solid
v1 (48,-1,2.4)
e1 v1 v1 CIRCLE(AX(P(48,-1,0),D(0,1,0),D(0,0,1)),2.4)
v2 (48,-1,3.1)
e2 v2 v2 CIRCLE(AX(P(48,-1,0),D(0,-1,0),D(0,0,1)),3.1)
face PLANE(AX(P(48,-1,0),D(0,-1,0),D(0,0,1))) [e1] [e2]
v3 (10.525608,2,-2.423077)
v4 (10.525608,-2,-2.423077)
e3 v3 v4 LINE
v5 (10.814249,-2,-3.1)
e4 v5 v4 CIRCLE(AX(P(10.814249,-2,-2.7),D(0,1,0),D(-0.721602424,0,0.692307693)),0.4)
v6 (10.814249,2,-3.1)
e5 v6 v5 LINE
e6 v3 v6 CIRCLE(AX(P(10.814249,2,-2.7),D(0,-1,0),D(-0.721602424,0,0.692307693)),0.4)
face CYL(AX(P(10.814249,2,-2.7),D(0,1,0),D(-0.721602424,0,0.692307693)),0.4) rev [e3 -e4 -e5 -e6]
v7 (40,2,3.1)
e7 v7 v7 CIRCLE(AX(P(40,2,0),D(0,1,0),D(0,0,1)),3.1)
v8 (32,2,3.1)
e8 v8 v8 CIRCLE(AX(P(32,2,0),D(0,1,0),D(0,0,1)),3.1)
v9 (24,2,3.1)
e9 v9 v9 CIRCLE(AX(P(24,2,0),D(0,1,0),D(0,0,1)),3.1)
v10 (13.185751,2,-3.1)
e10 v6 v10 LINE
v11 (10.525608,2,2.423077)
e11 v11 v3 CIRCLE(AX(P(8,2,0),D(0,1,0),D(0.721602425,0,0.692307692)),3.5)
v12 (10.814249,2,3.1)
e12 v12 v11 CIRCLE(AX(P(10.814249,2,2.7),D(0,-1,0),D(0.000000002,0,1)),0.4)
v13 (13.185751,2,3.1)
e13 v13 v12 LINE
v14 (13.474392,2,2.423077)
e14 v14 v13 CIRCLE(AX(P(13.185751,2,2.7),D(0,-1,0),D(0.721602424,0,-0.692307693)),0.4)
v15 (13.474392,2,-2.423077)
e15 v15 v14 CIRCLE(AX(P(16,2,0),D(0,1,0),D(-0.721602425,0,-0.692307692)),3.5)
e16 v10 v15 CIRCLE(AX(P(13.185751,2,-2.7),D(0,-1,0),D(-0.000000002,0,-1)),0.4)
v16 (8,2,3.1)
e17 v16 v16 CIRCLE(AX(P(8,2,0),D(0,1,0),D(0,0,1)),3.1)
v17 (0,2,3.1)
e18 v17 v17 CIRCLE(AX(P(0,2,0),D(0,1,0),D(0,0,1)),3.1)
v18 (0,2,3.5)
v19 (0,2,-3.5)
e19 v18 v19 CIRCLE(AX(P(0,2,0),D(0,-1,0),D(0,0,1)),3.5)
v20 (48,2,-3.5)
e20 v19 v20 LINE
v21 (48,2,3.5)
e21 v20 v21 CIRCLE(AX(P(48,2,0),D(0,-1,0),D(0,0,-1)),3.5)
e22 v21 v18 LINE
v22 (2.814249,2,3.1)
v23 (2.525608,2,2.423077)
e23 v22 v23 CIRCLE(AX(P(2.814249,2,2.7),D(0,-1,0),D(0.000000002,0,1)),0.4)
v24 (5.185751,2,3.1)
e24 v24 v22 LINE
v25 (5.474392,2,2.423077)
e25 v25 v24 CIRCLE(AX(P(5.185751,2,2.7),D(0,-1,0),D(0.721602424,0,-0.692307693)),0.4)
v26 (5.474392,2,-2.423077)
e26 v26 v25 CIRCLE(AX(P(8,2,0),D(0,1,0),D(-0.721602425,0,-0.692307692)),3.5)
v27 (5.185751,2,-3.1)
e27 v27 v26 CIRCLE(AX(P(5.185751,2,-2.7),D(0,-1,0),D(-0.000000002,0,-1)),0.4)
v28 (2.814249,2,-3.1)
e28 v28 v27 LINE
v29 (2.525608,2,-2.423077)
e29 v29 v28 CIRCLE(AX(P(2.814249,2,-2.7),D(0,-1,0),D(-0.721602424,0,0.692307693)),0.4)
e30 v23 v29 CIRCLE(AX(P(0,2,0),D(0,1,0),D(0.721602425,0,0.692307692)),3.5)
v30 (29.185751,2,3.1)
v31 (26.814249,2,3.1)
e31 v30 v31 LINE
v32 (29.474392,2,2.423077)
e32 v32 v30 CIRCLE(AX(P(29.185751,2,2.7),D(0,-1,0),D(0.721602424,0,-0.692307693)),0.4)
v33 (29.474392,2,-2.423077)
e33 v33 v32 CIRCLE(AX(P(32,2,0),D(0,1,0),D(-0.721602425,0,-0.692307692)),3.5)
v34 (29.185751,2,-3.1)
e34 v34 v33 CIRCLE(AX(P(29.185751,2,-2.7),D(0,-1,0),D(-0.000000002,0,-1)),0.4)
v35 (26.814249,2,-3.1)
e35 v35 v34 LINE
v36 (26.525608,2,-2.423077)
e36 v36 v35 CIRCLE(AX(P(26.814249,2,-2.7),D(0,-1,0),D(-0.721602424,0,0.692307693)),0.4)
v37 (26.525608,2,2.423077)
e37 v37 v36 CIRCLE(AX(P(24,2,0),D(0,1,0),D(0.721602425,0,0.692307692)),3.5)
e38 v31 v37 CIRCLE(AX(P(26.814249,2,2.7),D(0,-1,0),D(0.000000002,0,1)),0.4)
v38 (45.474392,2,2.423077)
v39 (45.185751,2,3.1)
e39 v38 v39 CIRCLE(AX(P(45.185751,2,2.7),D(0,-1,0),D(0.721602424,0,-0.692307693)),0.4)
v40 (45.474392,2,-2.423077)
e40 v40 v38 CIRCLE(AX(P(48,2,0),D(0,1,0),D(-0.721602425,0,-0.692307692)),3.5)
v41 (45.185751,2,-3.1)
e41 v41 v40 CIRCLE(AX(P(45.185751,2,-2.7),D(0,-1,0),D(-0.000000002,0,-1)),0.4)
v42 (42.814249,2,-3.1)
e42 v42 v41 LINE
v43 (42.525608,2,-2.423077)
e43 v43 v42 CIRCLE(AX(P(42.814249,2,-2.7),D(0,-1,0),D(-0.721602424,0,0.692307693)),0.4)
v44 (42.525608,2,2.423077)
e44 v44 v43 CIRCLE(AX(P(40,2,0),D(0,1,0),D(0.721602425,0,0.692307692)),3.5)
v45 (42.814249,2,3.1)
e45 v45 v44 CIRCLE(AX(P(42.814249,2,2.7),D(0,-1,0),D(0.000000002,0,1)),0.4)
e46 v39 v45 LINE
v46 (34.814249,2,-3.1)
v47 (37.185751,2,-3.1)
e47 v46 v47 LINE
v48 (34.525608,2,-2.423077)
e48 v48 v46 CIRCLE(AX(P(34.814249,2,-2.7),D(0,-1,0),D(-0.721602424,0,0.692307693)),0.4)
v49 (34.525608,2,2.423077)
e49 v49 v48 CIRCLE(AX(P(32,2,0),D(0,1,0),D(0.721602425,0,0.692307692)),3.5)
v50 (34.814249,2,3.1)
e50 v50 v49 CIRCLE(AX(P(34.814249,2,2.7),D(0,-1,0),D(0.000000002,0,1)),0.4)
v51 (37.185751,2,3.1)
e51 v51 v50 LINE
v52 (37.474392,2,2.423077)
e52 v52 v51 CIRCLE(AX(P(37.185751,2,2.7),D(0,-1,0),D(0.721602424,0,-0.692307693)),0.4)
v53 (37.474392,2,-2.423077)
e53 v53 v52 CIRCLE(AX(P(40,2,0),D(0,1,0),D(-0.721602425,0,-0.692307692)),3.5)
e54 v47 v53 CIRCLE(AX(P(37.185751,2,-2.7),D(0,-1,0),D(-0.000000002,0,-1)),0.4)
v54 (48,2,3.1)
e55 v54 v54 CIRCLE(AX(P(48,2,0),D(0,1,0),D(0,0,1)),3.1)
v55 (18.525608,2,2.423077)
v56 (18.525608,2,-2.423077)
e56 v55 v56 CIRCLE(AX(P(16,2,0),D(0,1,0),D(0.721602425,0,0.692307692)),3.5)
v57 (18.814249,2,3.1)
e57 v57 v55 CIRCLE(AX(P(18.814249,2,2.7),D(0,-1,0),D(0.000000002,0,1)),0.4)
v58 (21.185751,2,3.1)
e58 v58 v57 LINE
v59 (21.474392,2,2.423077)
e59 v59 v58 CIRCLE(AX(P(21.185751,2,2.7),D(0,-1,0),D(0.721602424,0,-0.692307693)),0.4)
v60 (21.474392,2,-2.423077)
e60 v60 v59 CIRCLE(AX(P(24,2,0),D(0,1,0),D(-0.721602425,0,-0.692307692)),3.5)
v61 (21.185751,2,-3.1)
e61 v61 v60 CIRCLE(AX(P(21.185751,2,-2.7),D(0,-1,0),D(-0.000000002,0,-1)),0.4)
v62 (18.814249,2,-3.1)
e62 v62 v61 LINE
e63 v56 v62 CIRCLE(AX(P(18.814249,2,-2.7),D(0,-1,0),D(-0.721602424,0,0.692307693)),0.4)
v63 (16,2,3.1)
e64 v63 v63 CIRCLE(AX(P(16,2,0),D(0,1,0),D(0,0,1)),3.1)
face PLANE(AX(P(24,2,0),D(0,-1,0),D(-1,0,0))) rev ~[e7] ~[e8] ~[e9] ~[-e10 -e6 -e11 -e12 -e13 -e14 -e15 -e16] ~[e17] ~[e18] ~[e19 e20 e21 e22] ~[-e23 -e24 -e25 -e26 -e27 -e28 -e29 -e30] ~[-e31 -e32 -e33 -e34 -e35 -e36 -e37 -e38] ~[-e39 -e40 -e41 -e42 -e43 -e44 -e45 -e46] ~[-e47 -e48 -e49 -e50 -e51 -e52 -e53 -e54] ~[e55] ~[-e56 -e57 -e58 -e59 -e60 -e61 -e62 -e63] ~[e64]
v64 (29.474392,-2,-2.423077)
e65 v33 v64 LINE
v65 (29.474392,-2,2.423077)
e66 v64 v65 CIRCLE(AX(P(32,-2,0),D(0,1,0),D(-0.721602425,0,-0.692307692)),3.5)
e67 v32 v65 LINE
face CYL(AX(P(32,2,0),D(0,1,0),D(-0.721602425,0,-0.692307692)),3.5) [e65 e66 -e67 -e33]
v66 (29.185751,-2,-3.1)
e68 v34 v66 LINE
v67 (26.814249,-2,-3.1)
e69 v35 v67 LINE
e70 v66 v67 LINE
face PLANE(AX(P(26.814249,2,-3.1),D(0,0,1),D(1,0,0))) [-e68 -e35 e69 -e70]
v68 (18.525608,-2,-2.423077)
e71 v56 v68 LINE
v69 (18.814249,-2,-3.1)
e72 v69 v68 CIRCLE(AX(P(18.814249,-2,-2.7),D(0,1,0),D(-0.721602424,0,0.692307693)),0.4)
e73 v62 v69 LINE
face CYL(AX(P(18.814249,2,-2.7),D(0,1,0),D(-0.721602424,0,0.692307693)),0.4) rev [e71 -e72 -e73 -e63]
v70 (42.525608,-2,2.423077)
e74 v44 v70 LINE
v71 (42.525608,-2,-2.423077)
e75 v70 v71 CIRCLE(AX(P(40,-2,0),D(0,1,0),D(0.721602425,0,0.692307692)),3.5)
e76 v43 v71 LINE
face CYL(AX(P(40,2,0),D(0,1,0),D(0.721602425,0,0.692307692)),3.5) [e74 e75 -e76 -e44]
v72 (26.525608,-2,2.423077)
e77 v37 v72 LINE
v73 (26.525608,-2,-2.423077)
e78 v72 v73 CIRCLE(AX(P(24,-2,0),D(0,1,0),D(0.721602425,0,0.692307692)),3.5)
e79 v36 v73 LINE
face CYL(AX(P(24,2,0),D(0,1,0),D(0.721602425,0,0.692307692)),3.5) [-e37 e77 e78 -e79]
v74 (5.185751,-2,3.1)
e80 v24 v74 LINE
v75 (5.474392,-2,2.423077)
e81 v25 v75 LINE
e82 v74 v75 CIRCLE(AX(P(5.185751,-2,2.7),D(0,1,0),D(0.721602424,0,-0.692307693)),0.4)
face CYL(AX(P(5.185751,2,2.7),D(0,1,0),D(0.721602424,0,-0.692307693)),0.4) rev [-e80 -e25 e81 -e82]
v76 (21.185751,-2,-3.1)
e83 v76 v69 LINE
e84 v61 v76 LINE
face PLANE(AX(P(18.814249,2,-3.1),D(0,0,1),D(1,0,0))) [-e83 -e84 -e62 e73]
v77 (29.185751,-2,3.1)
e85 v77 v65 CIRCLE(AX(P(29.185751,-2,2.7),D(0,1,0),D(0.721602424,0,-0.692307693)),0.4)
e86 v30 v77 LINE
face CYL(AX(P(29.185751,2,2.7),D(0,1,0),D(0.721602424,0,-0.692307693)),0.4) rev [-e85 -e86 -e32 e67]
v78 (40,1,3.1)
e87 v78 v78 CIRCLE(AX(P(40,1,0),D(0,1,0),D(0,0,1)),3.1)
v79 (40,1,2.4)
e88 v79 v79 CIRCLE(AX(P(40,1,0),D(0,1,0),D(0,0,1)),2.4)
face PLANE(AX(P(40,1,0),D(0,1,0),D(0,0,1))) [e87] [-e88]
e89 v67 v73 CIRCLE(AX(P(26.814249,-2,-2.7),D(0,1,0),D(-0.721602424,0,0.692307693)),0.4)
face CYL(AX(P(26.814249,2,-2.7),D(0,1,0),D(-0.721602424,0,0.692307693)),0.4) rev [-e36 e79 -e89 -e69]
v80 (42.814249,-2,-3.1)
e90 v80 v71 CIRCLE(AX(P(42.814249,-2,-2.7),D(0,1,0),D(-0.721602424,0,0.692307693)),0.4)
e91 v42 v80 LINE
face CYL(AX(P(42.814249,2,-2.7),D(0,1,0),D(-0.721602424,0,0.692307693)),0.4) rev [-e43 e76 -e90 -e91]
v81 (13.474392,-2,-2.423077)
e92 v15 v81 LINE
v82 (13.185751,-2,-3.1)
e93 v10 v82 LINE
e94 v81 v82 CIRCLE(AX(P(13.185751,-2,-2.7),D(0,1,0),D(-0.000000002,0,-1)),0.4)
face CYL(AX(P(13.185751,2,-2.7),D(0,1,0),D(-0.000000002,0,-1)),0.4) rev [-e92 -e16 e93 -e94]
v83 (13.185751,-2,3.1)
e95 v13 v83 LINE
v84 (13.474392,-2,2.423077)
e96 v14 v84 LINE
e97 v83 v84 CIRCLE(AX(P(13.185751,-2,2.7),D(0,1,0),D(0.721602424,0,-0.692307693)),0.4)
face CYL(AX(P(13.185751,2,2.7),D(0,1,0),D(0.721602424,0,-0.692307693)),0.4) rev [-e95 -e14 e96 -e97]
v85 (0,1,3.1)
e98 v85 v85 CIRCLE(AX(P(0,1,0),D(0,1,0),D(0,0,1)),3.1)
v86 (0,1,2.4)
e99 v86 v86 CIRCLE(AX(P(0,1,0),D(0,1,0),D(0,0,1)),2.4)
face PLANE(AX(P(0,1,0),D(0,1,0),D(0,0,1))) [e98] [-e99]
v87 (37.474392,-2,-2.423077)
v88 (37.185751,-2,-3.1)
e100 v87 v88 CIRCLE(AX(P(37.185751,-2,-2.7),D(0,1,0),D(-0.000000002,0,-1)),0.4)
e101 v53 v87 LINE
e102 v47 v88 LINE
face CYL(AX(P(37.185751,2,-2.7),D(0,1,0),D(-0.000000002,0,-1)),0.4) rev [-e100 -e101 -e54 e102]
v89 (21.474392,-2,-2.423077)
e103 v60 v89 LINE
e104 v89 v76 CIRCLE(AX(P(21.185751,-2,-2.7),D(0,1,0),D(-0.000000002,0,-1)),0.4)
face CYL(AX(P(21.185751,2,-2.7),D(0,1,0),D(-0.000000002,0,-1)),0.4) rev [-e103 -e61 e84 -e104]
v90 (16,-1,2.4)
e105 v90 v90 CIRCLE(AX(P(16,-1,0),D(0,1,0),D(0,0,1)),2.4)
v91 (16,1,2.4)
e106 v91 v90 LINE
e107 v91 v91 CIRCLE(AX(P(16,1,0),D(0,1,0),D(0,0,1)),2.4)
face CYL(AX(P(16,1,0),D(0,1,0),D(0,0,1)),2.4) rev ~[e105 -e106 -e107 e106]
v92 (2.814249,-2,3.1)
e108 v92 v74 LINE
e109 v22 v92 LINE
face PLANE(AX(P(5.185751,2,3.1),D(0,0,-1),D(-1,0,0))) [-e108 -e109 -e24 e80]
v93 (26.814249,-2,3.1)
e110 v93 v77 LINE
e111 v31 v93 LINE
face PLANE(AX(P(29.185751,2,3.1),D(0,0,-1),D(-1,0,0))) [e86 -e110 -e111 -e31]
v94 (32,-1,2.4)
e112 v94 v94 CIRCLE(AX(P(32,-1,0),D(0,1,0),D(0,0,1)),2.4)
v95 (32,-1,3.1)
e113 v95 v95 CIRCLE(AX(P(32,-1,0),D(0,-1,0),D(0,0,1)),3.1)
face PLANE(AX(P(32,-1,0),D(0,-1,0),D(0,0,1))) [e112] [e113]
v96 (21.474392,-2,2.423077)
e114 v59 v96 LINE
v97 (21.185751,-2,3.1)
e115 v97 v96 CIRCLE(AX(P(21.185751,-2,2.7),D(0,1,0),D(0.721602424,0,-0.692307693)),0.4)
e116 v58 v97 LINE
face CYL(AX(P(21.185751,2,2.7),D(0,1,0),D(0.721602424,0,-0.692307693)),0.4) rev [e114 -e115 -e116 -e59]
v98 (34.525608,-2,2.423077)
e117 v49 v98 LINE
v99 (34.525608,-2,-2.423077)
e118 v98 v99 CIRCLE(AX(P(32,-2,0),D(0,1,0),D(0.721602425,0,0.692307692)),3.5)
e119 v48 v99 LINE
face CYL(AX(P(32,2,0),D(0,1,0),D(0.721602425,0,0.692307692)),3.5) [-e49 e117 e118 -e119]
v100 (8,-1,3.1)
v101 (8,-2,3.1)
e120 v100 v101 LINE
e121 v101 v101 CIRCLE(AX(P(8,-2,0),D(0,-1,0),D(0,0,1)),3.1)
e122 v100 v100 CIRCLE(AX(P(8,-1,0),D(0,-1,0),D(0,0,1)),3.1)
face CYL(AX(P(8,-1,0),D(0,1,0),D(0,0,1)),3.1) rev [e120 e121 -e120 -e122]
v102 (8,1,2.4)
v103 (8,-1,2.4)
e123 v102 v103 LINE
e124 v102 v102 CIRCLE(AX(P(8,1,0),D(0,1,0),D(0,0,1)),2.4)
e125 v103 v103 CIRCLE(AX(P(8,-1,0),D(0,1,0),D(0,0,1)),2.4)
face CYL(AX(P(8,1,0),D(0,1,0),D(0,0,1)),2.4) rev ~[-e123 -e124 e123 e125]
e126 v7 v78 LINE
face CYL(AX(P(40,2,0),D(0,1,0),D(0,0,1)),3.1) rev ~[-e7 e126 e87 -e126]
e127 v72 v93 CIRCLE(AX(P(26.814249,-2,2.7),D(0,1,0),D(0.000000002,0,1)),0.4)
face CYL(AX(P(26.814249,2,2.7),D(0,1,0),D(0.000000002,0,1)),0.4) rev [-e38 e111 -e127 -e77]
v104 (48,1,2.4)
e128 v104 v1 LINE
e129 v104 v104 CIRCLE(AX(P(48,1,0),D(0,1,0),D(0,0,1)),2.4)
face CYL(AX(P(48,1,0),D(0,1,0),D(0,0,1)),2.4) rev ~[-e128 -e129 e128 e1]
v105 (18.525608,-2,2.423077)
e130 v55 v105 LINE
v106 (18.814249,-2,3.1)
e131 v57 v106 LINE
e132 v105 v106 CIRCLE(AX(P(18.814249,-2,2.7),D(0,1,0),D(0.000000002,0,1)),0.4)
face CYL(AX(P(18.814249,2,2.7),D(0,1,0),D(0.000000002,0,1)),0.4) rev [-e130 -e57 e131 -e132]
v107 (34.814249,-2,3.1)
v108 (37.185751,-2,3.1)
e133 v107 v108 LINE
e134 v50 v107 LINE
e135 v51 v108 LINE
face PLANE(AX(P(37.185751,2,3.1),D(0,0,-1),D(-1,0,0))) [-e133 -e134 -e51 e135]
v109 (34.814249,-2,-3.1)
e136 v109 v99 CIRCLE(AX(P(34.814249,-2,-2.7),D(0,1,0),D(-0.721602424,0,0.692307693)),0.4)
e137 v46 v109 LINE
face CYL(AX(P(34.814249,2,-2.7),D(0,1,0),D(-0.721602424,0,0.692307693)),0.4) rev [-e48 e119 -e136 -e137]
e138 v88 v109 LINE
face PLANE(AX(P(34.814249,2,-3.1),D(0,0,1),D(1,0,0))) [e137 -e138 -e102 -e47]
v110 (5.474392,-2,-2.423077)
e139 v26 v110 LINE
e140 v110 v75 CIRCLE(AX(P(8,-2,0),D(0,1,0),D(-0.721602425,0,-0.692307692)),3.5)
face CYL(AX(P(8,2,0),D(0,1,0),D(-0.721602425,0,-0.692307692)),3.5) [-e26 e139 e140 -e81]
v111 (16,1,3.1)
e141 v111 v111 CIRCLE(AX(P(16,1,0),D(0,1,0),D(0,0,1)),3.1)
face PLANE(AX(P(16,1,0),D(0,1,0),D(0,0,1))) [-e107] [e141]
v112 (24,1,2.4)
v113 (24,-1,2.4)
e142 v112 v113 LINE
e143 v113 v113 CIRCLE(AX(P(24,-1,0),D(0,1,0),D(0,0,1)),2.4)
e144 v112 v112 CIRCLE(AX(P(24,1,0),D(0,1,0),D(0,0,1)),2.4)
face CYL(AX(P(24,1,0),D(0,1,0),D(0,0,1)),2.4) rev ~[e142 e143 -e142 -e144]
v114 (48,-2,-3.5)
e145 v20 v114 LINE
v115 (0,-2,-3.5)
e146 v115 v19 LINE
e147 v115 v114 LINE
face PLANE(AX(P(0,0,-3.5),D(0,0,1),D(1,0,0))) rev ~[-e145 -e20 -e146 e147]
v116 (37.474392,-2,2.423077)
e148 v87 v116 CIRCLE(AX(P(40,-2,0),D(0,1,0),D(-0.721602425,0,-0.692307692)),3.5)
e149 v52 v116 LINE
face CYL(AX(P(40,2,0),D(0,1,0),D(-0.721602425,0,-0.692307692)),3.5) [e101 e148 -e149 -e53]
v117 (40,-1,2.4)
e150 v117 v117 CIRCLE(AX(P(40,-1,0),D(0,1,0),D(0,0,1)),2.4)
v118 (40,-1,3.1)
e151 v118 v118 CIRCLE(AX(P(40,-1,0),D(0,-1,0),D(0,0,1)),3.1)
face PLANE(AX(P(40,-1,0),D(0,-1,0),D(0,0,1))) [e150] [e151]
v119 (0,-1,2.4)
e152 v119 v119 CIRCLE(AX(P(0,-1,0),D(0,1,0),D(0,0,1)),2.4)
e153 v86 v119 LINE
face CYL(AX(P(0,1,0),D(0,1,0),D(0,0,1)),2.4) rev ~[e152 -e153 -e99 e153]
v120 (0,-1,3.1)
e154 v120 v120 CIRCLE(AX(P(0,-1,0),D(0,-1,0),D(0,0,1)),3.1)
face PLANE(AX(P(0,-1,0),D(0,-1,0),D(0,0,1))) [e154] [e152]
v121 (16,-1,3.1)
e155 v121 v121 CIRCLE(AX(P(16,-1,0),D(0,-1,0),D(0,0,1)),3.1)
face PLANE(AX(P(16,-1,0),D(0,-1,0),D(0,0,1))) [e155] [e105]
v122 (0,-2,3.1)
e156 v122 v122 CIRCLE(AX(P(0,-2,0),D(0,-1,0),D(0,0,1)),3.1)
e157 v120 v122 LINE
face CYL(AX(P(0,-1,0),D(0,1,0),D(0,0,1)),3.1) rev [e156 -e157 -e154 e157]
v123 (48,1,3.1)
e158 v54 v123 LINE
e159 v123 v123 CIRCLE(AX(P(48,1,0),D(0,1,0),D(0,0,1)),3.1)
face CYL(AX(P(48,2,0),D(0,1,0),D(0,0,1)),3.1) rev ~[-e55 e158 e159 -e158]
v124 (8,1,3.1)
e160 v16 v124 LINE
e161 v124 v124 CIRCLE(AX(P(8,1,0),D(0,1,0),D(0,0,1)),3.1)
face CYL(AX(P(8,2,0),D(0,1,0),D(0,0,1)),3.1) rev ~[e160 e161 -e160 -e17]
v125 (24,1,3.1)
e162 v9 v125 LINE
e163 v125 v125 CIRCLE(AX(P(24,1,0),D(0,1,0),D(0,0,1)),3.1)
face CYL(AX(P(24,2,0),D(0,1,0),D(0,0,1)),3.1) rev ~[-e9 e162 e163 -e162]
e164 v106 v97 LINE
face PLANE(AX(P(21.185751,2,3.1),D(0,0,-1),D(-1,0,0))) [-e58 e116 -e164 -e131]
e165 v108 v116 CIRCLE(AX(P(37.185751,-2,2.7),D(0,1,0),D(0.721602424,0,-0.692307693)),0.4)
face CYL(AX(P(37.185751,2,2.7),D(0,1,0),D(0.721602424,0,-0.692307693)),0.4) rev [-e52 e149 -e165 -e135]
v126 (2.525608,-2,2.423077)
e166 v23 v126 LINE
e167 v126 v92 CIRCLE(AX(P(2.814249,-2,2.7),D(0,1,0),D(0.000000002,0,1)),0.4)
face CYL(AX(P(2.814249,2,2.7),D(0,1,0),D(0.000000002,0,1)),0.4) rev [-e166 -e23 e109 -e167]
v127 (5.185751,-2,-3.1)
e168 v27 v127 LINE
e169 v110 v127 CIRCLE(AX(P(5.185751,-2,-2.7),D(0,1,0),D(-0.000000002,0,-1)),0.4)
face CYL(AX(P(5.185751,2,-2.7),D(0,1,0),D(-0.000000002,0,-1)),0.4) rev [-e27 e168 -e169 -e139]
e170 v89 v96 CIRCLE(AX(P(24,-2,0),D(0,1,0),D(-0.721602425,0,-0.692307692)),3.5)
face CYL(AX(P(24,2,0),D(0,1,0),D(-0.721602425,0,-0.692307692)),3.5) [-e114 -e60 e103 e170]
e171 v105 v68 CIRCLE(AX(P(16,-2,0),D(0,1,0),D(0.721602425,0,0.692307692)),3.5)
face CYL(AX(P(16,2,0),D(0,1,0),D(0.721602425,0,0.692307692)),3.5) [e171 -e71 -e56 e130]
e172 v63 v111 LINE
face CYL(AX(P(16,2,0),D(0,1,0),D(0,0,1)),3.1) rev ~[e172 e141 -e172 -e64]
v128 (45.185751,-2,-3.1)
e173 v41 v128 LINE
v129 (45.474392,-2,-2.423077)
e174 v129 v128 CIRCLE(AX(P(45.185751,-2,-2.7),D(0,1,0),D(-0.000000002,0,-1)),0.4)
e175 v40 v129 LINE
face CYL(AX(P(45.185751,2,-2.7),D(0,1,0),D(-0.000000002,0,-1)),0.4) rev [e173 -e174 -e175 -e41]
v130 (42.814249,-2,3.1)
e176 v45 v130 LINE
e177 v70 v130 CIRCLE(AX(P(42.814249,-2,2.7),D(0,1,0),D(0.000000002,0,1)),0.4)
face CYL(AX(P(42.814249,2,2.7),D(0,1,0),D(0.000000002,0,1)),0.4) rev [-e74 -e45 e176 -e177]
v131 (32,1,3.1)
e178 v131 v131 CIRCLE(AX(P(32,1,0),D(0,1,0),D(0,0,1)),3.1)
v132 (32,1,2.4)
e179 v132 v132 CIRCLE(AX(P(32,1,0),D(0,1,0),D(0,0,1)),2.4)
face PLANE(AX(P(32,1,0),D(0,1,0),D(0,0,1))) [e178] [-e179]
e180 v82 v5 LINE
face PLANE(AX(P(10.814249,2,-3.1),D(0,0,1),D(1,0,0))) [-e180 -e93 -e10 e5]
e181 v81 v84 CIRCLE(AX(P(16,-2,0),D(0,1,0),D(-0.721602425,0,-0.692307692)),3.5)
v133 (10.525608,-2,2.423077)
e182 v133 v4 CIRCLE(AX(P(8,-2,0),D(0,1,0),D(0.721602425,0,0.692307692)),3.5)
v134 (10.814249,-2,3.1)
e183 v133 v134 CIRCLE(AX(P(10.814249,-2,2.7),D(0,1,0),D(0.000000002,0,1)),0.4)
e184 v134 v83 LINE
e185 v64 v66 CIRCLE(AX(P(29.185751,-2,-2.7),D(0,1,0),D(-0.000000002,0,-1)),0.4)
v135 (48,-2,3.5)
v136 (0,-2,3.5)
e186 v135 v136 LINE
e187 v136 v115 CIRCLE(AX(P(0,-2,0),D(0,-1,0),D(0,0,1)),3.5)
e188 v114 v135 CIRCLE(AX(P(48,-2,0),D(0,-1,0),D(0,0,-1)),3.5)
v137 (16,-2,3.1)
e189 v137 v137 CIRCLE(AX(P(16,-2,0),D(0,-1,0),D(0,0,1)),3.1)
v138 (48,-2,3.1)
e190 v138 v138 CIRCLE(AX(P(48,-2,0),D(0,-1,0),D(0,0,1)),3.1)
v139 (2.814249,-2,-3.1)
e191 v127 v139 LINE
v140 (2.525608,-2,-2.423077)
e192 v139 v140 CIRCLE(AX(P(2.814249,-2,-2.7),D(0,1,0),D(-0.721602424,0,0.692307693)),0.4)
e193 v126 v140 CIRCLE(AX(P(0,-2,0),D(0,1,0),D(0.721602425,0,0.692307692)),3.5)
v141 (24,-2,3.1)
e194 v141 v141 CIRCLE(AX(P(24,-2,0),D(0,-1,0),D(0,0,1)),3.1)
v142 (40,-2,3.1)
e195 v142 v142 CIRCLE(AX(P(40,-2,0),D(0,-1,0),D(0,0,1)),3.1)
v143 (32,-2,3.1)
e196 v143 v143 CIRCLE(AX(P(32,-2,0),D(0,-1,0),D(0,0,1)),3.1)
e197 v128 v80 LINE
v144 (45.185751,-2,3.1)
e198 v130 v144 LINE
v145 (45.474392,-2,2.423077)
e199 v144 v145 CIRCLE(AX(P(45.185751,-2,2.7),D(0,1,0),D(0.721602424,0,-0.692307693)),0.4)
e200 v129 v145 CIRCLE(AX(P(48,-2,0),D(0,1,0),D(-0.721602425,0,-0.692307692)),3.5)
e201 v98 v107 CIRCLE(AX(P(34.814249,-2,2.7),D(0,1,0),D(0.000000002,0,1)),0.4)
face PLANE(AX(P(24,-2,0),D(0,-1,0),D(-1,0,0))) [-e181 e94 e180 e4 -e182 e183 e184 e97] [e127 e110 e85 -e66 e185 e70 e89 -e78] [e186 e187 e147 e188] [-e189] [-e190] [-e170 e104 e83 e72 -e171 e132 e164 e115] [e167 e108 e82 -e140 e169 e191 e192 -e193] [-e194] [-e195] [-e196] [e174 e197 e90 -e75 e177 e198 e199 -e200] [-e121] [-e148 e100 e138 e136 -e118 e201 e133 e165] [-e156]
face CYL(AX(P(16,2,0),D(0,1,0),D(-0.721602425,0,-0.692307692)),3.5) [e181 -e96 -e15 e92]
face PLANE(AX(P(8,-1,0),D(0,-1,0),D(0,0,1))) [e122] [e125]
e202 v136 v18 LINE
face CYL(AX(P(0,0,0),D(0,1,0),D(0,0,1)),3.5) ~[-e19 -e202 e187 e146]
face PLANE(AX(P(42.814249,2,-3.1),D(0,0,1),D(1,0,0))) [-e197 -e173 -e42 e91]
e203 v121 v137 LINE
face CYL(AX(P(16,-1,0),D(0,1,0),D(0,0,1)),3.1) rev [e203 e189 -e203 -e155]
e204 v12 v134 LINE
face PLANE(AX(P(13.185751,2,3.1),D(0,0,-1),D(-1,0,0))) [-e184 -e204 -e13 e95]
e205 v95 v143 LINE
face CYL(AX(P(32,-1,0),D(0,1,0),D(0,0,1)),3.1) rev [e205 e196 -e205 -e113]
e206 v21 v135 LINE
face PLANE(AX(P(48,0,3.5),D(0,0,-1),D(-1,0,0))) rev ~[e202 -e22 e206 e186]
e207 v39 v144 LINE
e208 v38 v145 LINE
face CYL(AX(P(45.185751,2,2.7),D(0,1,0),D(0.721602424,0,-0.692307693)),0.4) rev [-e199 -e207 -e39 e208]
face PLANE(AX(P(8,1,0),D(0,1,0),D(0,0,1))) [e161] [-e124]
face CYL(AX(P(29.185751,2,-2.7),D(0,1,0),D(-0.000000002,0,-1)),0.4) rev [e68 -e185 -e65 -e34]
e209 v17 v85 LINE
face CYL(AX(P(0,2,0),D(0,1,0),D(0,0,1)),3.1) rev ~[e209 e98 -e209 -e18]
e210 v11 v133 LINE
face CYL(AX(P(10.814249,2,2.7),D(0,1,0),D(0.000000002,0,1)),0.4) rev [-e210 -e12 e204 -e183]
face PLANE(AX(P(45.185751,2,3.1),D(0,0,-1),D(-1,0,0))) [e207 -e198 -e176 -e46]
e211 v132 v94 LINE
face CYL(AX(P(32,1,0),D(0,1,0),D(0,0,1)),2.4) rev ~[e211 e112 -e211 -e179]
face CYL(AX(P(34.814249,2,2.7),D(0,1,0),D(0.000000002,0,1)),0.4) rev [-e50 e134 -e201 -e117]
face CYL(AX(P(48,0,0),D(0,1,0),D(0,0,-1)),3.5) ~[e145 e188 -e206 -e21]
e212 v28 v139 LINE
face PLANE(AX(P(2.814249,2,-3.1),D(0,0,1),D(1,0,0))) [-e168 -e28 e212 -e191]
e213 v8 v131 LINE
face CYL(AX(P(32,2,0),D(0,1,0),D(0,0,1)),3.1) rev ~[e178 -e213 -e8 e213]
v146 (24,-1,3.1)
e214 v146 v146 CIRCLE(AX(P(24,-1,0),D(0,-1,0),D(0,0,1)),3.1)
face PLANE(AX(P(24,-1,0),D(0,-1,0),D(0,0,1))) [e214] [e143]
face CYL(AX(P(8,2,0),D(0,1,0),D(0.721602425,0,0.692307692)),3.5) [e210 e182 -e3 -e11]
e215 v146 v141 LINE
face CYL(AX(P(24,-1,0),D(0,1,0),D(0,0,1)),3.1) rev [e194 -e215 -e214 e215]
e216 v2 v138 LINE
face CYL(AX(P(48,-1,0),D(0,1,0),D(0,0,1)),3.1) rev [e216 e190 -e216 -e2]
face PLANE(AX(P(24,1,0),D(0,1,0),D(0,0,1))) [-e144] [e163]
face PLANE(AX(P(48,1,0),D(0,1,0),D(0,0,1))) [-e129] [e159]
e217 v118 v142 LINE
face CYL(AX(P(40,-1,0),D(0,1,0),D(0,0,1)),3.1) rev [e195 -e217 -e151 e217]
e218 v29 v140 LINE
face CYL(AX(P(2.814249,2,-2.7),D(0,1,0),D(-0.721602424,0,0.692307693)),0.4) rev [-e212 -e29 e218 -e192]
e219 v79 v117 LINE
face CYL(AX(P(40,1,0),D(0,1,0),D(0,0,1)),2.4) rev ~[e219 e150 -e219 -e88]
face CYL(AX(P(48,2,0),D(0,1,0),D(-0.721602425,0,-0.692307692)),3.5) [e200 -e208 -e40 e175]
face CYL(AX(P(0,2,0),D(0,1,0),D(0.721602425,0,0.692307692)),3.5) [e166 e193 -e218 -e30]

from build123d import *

# Parameters (mm, degrees)
BOSS_EXTRUDE1_DEPTH = 2
SKETCH2_R           = 3.1
CUT_EXTRUDE1_DEPTH  = 1
CUT_EXTRUDE2_START  = -1
SKETCH3_R           = 3.1
CUT_EXTRUDE2_DEPTH  = 1
SKETCH4_R           = 2.4
CUT_EXTRUDE3_DEPTH  = 52.705899083
LPATTERN1_COUNT     = 7
LPATTERN1_PITCH     = 8
CUT_EXTRUDE4_DEPTH  = 52.773545368
LPATTERN2_COUNT     = 6
LPATTERN2_PITCH     = 8


with BuildPart() as part:
    # Sketch1 → Boss-Extrude1 (new, symmetric)
    with BuildSketch(Plane(origin=(0, 0, 0), x_dir=(1, 0, 0), z_dir=(0, 1, 0))):
        with BuildLine():
            Line((0, 3.5), (48, 3.5))
            ThreePointArc((48, 3.5), (51.5, 0), (48, -3.5))
            Line((48, -3.5), (0, -3.5))
            ThreePointArc((0, -3.5), (-3.5, 0), (0, 3.5))
        make_face()
    extrude(amount=BOSS_EXTRUDE1_DEPTH, both=True)

    # Sketch2 → Cut-Extrude1 (cut)
    with BuildSketch(Plane(origin=(0, 2, 0), x_dir=(1, 0, 0), z_dir=(0, 1, 0))):
        with Locations(Location((0, 0, 0), (0, 0, 270))):
            Circle(SKETCH2_R)
    cut_extrude1 = extrude(amount=-CUT_EXTRUDE1_DEPTH, mode=Mode.SUBTRACT)

    # Sketch3 → Cut-Extrude2 (cut)
    with BuildSketch(Plane.XZ.offset(2).offset(CUT_EXTRUDE2_START)):
        with Locations(Location((0, 0, 0), (0, 0, 90))):
            Circle(SKETCH3_R)
    cut_extrude2 = extrude(amount=CUT_EXTRUDE2_DEPTH, mode=Mode.SUBTRACT)

    # Sketch4 → Cut-Extrude3 (cut, through all)
    with BuildSketch(Plane(origin=(0, 1, 0), x_dir=(1, 0, 0), z_dir=(0, 1, 0))):
        with Locations(Location((0, 0, 0), (0, 0, 270))):
            Circle(SKETCH4_R)
    cut_extrude3 = extrude(amount=-CUT_EXTRUDE3_DEPTH, mode=Mode.SUBTRACT)

    # LPattern1: Cut-Extrude1, Cut-Extrude2, Cut-Extrude3 ×7
    with Locations(*[(i * LPATTERN1_PITCH, 0, 0) for i in range(1, LPATTERN1_COUNT)]):
        add(cut_extrude1, mode=Mode.SUBTRACT)
        add(cut_extrude2, mode=Mode.SUBTRACT)
        add(cut_extrude3, mode=Mode.SUBTRACT)

    # Sketch5 → Cut-Extrude4 (cut, through all)
    with BuildSketch(Plane(origin=(0, 2, 0), x_dir=(1, 0, 0), z_dir=(0, 1, 0))):
        with BuildLine():
            Line((2.814249456, 3.1), (5.185750544, 3.1))
            ThreePointArc((5.185750544, 3.1), (5.553697029, 2.856892908), (5.474391514, 2.423076923))
            ThreePointArc((5.474391514, 2.423076923), (4.5, 0), (5.474391514, -2.423076923))
            ThreePointArc((5.474391514, -2.423076923), (5.553697029, -2.856892908), (5.185750544, -3.1))
            Line((5.185750544, -3.1), (2.814249456, -3.1))
            ThreePointArc((2.814249456, -3.1), (2.446302971, -2.856892908), (2.525608486, -2.423076923))
            ThreePointArc((2.525608486, -2.423076923), (3.5, 0), (2.525608486, 2.423076923))
            ThreePointArc((2.525608486, 2.423076923), (2.446302971, 2.856892908), (2.814249456, 3.1))
        make_face()
    cut_extrude4 = extrude(amount=-CUT_EXTRUDE4_DEPTH, mode=Mode.SUBTRACT)

    # LPattern2: Cut-Extrude4 ×6
    with Locations(*[(i * LPATTERN2_PITCH, 0, 0) for i in range(1, LPATTERN2_COUNT)]):
        add(cut_extrude4, mode=Mode.SUBTRACT)


solid = part.part
